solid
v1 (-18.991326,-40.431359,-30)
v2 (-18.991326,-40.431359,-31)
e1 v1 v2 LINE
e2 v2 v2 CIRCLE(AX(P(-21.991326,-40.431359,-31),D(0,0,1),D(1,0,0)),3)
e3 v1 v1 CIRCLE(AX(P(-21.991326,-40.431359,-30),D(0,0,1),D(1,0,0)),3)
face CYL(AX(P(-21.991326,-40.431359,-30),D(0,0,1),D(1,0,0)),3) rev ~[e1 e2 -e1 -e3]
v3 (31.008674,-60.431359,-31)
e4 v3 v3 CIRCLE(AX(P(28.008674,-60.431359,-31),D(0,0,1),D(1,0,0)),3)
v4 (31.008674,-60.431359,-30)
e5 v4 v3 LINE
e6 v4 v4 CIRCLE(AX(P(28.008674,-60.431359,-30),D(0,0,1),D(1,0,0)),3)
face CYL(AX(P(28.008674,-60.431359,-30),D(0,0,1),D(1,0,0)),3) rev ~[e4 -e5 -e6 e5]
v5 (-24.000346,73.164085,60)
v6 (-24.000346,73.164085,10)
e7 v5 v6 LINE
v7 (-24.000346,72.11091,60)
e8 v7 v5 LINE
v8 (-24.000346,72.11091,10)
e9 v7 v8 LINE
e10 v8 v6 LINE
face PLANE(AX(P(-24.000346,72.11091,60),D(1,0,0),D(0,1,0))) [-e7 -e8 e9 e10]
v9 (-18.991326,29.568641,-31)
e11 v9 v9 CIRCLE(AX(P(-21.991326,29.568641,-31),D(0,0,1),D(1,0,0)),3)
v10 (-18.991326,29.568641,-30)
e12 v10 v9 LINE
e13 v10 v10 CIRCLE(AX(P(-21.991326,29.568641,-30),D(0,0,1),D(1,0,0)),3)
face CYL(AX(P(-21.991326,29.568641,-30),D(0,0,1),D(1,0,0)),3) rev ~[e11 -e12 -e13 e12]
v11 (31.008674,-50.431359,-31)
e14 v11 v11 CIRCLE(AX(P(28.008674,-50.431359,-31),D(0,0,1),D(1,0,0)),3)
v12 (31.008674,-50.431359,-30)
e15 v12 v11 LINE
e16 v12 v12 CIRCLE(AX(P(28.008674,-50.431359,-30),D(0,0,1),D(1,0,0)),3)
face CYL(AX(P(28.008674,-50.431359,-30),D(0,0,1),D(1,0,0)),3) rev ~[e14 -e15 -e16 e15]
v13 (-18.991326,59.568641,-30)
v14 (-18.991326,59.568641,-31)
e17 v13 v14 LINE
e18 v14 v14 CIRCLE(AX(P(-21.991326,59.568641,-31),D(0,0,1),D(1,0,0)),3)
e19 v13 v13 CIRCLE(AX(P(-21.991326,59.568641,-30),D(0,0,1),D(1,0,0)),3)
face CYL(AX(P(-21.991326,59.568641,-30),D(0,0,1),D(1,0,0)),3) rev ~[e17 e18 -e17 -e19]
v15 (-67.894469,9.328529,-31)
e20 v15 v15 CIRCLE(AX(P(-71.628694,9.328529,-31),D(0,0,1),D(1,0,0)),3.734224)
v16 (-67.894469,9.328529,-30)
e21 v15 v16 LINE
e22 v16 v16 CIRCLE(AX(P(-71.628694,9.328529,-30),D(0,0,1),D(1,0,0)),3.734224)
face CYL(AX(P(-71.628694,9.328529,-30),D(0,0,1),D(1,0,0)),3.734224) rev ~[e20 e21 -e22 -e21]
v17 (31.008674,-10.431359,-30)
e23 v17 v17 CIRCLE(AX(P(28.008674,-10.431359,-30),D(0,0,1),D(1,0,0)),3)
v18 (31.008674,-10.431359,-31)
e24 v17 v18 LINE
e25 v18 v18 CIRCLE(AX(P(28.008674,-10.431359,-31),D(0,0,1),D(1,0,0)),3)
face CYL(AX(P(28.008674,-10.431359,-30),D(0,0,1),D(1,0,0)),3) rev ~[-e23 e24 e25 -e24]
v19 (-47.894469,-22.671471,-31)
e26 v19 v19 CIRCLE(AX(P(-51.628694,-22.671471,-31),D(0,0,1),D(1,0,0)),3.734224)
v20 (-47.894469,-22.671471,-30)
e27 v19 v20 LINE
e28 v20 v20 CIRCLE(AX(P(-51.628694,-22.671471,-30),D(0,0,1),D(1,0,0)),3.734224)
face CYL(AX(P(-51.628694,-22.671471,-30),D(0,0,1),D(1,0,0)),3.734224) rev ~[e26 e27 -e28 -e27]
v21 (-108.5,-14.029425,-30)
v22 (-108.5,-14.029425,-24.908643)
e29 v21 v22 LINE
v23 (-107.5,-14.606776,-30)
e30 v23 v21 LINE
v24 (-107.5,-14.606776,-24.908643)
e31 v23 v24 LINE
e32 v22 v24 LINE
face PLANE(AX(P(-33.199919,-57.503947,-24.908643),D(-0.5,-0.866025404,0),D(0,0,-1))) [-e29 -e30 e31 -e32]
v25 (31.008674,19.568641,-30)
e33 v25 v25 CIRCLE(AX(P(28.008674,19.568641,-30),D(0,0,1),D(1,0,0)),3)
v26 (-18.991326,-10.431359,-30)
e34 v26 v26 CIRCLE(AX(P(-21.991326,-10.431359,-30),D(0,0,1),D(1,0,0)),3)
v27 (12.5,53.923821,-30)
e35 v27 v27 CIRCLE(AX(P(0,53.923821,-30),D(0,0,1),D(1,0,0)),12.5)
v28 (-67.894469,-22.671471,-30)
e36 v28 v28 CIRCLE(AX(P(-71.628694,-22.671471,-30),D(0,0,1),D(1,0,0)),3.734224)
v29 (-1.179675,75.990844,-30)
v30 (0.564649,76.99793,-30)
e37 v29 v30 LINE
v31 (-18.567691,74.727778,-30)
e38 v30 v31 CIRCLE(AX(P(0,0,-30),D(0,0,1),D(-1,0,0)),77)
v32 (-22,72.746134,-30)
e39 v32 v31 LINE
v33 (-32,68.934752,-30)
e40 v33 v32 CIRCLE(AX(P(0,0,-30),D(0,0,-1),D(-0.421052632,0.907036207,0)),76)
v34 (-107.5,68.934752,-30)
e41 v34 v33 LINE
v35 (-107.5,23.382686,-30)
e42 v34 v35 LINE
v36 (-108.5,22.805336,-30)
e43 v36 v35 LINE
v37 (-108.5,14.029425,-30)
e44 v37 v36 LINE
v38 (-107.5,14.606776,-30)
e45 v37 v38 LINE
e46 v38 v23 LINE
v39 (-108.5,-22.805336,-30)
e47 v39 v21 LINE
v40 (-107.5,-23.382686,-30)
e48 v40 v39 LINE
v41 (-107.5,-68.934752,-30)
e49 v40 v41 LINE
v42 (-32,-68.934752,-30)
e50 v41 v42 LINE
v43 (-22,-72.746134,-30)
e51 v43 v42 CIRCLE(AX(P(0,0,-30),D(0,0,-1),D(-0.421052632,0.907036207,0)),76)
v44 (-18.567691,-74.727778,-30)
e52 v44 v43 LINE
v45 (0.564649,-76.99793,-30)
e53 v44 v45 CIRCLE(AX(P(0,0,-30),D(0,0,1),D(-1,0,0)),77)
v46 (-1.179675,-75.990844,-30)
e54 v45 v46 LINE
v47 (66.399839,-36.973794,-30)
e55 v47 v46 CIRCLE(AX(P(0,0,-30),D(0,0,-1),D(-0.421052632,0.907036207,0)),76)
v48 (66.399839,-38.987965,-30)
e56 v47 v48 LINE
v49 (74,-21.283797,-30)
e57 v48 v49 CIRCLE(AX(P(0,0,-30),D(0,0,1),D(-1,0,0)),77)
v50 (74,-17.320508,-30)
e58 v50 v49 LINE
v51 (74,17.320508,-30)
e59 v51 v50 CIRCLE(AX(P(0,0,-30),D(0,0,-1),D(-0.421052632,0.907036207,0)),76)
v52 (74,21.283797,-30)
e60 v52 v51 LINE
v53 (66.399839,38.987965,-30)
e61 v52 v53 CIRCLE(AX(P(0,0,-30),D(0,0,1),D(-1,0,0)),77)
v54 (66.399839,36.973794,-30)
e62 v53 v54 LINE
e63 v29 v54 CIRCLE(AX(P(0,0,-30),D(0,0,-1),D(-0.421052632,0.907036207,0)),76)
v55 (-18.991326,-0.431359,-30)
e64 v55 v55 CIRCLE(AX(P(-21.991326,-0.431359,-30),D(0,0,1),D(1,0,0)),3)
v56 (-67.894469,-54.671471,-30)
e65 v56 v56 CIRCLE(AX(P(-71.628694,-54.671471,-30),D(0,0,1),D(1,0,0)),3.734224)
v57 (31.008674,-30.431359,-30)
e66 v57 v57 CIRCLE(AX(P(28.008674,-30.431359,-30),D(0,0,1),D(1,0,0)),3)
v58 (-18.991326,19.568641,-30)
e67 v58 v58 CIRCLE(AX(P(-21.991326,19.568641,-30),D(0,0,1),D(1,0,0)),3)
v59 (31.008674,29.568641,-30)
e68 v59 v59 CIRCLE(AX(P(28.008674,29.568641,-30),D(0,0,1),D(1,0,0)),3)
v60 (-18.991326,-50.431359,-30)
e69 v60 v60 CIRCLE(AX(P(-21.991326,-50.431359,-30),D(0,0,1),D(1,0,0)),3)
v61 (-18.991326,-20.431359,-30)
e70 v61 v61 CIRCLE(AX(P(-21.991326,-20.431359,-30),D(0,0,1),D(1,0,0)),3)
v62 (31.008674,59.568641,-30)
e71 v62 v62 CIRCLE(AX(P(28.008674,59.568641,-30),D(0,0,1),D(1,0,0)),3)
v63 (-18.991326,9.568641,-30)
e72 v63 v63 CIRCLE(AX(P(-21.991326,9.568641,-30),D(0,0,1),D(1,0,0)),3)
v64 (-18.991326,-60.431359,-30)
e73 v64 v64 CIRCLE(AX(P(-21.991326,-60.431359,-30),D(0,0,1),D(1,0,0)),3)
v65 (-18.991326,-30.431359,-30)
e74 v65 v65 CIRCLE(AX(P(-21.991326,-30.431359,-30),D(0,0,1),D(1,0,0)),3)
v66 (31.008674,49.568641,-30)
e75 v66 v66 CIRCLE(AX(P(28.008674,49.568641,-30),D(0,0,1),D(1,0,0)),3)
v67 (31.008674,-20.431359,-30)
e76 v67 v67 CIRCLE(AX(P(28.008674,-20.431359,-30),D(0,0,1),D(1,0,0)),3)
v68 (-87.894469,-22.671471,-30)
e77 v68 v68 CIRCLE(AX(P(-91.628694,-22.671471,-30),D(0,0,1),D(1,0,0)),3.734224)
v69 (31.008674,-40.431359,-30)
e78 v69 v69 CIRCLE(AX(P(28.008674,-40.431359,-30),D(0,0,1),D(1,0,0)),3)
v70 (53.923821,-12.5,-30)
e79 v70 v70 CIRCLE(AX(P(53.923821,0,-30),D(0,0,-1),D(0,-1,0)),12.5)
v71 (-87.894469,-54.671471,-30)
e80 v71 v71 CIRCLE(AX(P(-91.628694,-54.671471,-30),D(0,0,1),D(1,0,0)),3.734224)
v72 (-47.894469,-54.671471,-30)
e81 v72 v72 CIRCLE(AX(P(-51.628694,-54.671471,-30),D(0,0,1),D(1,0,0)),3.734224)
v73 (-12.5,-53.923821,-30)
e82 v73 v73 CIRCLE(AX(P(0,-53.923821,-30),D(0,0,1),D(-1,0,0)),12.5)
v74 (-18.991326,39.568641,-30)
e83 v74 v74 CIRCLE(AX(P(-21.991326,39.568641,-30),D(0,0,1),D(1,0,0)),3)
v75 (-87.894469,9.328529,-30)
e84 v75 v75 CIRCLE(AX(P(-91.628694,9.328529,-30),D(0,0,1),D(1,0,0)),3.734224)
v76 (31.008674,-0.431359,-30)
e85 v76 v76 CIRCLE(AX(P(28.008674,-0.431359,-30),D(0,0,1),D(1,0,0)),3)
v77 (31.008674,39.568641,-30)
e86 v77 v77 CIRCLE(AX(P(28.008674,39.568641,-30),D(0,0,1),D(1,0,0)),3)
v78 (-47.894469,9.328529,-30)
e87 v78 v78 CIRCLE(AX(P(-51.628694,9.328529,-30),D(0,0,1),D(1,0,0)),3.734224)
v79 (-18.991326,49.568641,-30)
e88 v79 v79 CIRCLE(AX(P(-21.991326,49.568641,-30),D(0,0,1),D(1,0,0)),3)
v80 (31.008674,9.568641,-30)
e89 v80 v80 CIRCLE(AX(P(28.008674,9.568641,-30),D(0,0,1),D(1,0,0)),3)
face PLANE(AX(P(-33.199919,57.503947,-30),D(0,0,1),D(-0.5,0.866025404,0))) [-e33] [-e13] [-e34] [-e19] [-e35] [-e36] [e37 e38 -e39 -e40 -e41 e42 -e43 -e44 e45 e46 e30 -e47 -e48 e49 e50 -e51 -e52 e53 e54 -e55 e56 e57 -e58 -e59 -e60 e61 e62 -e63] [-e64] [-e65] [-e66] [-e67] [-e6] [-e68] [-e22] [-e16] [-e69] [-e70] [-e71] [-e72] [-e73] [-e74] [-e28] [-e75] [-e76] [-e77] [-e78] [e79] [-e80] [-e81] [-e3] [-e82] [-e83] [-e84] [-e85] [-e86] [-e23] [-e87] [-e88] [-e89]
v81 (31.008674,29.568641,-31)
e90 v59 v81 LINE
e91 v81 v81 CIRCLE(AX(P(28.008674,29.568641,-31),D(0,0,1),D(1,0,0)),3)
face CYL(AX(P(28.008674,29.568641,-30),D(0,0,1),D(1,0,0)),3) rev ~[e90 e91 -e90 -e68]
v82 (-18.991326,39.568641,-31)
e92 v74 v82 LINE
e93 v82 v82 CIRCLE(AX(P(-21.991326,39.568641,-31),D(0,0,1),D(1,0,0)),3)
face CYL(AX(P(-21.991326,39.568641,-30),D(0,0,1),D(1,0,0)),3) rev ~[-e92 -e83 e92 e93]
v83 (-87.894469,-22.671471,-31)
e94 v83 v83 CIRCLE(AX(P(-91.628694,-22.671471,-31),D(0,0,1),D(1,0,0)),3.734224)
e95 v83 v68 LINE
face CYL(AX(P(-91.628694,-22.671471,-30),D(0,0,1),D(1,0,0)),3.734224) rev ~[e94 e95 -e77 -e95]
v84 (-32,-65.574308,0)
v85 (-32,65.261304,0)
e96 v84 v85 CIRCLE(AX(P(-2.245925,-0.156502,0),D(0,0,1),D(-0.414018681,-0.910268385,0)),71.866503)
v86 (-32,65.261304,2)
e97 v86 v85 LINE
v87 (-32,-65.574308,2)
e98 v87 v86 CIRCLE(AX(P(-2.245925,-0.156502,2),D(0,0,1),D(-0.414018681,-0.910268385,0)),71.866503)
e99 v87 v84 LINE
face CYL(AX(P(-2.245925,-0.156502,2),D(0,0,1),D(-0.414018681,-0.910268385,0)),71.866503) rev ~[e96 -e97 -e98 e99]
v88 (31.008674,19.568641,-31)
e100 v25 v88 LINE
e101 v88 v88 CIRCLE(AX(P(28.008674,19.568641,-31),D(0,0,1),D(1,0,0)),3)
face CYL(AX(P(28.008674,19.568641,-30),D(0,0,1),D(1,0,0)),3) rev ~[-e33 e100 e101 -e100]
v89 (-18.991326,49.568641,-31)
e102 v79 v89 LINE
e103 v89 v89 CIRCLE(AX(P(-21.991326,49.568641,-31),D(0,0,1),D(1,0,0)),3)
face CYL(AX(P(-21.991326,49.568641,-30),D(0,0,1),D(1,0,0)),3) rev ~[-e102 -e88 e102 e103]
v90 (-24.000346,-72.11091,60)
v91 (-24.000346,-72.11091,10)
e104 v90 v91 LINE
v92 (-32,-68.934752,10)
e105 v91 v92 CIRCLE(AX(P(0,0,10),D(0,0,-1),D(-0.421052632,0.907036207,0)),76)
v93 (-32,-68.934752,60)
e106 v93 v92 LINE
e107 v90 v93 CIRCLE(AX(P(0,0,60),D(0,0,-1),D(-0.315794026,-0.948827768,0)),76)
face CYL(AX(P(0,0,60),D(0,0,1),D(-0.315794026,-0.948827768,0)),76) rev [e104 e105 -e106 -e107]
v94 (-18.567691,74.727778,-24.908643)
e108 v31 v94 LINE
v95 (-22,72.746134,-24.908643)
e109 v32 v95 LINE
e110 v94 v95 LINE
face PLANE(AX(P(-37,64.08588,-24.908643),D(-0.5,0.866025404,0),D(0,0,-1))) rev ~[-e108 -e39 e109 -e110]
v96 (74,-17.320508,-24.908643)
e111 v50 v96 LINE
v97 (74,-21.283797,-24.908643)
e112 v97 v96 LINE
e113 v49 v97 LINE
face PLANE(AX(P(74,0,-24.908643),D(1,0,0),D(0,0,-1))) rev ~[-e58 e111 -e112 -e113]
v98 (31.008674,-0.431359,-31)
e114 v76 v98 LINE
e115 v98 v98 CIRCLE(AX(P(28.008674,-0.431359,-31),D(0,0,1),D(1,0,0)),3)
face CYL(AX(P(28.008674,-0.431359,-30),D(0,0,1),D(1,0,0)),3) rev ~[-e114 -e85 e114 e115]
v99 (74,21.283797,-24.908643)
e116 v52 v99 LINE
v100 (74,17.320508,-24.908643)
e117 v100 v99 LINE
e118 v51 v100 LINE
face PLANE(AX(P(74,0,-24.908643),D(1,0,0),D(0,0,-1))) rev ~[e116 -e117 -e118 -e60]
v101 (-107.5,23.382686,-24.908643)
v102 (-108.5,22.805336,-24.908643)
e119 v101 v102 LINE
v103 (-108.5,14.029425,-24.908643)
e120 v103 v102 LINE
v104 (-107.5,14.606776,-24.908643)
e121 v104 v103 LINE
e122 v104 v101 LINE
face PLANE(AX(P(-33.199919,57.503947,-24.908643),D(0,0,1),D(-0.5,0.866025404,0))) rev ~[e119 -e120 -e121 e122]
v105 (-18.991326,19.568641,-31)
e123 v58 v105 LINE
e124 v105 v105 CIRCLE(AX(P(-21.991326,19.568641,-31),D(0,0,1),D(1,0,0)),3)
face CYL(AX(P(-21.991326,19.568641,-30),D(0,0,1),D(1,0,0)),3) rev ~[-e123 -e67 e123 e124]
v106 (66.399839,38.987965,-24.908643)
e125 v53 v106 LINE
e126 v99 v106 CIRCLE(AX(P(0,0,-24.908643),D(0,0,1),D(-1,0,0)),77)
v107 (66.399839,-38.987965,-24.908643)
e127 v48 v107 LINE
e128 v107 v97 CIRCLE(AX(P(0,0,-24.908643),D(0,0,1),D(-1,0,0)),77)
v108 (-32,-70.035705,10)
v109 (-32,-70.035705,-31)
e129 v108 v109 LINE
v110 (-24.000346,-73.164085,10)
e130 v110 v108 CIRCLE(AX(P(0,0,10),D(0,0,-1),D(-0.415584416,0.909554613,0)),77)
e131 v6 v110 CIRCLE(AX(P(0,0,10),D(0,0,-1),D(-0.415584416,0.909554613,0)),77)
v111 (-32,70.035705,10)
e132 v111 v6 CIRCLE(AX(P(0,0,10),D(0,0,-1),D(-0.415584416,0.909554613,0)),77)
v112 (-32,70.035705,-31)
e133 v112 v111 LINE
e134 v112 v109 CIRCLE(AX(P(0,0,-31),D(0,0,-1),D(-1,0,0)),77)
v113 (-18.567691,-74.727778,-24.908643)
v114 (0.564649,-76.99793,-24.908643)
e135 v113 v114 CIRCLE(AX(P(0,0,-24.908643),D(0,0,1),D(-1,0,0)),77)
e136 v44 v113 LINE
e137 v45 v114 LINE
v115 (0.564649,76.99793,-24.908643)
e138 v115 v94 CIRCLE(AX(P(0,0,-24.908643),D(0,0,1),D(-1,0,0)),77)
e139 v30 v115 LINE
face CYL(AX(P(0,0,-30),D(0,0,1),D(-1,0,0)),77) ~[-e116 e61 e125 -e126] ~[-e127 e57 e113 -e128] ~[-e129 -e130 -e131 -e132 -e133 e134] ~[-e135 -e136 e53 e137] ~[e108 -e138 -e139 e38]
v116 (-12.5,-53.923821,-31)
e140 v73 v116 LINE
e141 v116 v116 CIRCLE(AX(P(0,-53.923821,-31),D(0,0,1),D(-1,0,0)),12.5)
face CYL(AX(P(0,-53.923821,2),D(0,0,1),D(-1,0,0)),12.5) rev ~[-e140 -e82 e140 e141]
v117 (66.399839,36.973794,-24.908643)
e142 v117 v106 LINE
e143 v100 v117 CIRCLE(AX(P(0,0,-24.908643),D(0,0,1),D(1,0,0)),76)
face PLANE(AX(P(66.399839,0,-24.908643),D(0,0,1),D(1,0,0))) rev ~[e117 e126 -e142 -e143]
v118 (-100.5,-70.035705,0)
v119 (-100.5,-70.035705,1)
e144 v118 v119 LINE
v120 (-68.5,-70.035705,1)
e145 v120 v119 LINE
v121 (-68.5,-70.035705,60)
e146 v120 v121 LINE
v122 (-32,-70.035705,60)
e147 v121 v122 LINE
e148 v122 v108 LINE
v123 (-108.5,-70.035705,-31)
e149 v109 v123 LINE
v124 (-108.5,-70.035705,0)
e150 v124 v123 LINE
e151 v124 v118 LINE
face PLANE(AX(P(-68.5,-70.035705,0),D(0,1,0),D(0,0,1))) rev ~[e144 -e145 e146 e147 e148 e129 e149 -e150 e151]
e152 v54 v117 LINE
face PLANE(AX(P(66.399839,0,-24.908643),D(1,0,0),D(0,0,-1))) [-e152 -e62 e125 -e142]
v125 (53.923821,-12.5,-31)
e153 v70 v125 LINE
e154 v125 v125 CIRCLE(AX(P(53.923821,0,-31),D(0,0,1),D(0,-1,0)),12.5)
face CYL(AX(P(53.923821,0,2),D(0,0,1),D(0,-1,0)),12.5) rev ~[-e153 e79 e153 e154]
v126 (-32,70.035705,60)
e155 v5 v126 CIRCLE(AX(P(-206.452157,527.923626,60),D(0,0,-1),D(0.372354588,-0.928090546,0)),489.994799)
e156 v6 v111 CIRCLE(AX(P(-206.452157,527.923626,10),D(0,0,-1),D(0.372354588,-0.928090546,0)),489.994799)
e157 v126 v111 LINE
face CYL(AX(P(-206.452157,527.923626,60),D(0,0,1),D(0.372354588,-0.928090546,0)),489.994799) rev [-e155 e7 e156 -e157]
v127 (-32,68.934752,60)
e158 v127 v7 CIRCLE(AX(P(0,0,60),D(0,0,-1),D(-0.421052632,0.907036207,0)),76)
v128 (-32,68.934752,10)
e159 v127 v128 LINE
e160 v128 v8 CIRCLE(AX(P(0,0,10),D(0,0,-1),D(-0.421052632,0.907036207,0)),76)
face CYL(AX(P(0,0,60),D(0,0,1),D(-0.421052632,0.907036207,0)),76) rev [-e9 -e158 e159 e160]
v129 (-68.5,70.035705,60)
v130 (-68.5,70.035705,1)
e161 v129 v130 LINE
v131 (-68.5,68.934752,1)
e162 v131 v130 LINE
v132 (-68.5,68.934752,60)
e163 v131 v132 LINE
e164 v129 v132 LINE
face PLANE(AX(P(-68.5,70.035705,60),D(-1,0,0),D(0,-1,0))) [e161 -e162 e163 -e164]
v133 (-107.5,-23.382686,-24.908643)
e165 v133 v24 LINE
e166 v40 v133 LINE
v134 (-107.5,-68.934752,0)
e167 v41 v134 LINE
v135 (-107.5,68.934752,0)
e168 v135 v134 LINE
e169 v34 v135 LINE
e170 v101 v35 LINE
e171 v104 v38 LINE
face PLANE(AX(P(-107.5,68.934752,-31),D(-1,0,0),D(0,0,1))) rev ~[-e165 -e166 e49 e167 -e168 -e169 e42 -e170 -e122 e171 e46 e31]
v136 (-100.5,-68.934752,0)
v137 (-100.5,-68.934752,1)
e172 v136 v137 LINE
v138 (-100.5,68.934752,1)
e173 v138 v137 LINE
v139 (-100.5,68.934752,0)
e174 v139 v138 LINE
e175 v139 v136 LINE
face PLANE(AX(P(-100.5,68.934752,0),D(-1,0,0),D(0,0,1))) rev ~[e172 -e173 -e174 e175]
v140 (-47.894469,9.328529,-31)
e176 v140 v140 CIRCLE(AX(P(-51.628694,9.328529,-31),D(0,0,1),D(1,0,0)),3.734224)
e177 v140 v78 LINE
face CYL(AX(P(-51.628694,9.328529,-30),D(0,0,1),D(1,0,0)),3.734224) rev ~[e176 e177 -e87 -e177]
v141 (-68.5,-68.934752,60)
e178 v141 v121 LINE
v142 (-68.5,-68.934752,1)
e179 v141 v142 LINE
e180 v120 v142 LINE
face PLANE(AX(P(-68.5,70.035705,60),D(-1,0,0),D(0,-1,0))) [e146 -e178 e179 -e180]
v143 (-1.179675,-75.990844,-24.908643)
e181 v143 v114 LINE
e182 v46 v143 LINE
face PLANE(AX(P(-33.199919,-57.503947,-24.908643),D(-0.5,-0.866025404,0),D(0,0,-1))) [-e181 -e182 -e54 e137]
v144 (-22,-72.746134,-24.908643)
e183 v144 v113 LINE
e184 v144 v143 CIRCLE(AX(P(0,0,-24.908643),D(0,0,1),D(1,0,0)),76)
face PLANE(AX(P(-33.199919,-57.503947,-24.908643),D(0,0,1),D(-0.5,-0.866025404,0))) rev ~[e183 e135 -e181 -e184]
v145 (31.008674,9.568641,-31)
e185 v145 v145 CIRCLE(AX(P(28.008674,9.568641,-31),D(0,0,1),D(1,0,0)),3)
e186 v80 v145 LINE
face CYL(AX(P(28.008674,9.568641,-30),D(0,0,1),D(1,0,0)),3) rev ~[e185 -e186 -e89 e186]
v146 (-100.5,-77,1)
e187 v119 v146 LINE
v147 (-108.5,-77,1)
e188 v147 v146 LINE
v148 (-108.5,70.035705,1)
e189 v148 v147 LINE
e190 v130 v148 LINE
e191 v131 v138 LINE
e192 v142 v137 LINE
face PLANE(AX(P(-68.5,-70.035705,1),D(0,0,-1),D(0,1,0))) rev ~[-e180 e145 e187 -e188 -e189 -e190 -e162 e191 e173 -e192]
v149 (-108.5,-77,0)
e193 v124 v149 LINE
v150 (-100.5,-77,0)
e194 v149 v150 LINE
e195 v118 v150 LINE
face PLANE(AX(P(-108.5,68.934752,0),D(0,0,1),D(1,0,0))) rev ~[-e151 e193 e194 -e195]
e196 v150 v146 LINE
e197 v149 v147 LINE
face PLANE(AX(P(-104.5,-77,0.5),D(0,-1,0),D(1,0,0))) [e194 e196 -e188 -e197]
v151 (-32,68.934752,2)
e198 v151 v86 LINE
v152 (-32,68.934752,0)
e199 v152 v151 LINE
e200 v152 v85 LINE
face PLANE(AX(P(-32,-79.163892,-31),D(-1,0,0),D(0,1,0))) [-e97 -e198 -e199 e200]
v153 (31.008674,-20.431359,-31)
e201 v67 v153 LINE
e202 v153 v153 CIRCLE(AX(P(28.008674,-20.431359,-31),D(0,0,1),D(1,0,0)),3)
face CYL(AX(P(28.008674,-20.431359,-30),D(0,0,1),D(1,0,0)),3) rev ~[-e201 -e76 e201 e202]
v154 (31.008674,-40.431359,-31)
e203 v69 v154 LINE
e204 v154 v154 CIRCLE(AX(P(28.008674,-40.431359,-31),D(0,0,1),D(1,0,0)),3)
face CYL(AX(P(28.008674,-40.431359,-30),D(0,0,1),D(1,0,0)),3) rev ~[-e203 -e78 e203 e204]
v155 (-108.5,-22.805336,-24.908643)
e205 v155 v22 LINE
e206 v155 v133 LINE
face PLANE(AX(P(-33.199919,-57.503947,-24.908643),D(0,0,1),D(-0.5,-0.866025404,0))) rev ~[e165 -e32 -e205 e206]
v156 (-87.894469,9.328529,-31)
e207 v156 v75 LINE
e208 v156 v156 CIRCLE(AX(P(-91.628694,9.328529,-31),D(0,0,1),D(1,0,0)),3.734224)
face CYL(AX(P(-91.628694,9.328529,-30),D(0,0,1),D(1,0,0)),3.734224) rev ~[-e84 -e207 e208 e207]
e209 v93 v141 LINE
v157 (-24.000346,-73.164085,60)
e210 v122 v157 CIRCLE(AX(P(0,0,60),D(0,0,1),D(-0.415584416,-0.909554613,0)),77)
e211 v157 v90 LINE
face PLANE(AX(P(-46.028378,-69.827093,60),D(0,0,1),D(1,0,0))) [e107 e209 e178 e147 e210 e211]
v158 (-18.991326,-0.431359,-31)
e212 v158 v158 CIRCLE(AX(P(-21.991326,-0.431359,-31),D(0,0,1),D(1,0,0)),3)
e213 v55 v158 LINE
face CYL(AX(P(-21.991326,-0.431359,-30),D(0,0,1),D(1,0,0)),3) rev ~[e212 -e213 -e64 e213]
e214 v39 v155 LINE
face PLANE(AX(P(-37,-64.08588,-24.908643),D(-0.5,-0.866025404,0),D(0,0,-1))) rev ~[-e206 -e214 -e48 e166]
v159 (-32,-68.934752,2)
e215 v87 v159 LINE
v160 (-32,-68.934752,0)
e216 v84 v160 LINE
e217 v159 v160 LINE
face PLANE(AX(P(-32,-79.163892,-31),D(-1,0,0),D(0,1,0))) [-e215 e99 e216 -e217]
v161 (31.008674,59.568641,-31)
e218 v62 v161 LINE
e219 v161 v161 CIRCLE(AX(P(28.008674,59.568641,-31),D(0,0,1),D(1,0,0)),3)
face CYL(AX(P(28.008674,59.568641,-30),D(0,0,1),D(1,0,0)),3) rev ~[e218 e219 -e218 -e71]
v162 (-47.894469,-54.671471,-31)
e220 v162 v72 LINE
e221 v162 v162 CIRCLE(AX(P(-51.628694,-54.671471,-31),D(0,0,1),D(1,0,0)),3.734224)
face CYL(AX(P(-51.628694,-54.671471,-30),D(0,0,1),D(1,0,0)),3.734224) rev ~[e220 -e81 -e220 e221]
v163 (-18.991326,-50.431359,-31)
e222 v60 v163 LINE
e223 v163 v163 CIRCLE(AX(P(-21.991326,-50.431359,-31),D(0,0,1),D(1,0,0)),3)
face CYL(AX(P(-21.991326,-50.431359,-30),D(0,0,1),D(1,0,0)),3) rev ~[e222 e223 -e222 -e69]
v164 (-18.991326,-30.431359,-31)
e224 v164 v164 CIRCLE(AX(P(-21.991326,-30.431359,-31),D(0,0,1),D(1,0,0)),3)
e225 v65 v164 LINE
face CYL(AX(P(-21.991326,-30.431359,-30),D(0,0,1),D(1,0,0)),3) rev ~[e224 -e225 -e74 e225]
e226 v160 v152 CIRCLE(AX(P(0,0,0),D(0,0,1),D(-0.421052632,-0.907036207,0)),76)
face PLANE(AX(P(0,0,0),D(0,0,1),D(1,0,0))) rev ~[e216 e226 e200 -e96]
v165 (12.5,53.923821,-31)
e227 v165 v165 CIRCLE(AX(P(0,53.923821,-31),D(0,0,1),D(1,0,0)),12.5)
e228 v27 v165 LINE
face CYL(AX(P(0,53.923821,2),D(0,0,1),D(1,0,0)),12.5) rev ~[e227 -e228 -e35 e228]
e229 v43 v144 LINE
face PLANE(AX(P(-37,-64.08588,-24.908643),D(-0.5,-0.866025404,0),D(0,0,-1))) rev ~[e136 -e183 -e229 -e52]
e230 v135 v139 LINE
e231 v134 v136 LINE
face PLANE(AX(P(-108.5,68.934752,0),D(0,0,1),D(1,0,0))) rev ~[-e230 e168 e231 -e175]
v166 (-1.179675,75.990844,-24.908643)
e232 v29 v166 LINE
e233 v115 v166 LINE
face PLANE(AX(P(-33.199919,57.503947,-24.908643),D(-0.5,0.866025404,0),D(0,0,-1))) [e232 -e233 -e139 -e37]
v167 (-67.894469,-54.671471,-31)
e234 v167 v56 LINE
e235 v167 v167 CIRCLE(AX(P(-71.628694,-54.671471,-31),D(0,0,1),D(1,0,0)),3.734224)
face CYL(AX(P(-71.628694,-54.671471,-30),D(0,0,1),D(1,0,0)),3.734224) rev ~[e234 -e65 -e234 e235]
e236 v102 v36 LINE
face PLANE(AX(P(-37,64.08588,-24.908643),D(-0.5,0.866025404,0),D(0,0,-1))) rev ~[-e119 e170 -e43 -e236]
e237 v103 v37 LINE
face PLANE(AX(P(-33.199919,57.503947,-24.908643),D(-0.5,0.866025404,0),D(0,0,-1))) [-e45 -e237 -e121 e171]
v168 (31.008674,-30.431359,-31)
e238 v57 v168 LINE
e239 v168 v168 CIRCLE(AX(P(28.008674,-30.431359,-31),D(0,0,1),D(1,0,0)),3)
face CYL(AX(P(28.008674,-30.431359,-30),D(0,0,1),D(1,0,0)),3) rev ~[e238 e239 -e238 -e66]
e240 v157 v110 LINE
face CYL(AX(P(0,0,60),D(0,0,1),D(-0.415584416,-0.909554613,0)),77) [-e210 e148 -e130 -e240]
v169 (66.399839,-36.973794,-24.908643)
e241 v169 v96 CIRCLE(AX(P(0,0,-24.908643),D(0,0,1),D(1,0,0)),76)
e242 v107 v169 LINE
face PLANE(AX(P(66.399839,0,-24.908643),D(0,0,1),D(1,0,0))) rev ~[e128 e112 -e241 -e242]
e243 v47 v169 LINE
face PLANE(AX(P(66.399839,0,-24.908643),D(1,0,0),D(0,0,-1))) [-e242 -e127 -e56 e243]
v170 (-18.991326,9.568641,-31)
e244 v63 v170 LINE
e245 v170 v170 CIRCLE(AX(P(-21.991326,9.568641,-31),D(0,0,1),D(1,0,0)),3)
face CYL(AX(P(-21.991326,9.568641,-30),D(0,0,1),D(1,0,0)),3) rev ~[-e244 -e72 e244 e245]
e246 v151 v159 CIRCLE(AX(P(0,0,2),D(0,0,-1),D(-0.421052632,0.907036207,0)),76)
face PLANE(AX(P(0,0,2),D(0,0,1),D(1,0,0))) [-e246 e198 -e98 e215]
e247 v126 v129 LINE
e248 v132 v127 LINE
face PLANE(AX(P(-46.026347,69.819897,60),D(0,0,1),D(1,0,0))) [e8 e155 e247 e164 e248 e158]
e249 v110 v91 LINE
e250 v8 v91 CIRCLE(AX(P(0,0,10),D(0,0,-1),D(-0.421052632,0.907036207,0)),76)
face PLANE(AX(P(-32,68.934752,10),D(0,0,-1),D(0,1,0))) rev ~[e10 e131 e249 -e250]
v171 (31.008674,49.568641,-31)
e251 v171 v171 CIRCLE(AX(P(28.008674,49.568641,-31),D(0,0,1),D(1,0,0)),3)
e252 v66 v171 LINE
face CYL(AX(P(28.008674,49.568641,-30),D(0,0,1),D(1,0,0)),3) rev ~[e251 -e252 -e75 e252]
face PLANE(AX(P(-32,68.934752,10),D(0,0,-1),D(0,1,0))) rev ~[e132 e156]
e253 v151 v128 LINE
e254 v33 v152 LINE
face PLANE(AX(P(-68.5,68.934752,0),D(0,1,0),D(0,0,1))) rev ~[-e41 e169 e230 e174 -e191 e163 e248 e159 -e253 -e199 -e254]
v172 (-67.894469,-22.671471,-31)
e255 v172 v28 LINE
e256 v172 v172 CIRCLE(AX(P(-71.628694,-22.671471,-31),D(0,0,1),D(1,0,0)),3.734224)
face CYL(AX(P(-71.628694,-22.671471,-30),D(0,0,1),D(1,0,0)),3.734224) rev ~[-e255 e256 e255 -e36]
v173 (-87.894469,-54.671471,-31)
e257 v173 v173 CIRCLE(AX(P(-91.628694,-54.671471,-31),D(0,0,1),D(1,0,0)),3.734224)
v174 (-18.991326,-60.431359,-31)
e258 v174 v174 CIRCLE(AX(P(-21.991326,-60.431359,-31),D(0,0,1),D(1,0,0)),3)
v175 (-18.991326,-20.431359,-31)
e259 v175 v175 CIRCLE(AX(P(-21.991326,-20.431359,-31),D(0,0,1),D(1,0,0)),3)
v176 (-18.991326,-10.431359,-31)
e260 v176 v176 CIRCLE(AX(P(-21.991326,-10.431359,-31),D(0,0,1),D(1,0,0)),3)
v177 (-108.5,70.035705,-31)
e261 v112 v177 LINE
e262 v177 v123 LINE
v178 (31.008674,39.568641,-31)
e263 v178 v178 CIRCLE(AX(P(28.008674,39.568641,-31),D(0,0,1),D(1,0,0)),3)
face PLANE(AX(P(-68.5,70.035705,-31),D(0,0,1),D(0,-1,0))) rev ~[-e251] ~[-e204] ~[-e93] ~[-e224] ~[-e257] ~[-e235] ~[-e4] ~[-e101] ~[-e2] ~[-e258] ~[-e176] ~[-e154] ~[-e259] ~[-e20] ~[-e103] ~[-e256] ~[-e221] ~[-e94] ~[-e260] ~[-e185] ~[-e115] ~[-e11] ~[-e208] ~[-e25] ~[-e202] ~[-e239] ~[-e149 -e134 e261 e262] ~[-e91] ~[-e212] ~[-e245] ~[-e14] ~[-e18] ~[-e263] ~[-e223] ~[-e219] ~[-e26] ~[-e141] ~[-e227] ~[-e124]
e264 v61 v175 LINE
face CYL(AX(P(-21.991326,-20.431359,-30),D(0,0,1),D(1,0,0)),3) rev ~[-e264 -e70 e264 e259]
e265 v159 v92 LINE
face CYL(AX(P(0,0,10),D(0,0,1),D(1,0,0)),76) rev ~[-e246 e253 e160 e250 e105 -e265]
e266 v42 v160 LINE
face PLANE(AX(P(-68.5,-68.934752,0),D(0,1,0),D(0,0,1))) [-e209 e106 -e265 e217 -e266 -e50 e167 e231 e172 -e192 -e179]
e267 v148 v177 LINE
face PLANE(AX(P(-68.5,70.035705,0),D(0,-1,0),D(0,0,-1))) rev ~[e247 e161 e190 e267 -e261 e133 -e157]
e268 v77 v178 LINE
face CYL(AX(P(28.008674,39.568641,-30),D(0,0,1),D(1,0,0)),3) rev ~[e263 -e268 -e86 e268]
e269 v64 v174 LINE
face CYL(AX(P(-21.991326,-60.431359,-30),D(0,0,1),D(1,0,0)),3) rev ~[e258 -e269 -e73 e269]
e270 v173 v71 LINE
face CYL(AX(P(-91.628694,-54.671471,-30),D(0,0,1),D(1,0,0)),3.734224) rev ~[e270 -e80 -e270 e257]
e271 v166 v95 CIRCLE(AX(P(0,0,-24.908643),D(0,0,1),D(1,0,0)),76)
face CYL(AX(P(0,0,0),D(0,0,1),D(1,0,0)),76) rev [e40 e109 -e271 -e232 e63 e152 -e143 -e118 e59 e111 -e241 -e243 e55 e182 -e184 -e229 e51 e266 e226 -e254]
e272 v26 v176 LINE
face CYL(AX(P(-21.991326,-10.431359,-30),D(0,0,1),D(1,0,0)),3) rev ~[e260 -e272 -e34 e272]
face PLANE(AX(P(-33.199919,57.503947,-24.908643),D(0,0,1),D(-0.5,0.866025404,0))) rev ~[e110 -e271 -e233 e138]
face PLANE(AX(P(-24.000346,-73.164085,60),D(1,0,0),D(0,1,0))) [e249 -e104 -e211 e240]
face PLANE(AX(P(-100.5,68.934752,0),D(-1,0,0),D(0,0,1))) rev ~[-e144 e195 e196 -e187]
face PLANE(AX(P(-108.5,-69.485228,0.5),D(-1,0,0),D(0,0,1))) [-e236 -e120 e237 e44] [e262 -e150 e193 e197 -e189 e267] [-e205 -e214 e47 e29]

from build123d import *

# Parameters (mm, degrees)
SKETCH1_R                  = 77
BOSS_EXTRUDE1_DEPTH        = 10
SKETCH2_R                  = 76
CUT_EXTRUDE1_DEPTH         = 8
SKETCH3_R                  = 77
SKETCH3_R_2                = 76
BOSS_EXTRUDE2_DEPTH        = 30
SKETCH4_R                  = 77
BOSS_EXTRUDE3_DEPTH        = 1
SKETCH5_W                  = 45
SKETCH5_H                  = 163.805350841
CUT_EXTRUDE3_DEPTH         = 117.357208629
BOSS_EXTRUDE4_DEPTH        = 36.5
SKETCH9_R                  = 12.5
CUT_EXTRUDE4_DEPTH         = 114.784884761
CIRPATTERN1_COUNT          = 3
CIRPATTERN1_ANGLE          = 180
BOSS_EXTRUDE5_START        = 50
BOSS_EXTRUDE5_DEPTH        = 50
BOSS_EXTRUDE6_DEPTH        = 40
BOSS_EXTRUDE8_REACH        = 193.492
SKETCH12_W                 = 1
SKETCH12_H                 = 31
CUT_EXTRUDE6_REACH         = 147.139
SKETCH13_R                 = 27.198384407
CUT_EXTRUDE7_REACH         = 162.628
SKETCH14_R                 = 3
LPATTERN1_COUNT            = 13
LPATTERN1_PITCH            = 10
LPATTERN5_COUNT            = 2
LPATTERN5_PITCH            = 50
LPATTERN5_COPY_1_REACH     = 162.628
LPATTERN5_COPY_1_SKETCH_R  = 3
LPATTERN5_COPY_2_REACH     = 162.628
LPATTERN5_COPY_2_SKETCH_R  = 3
LPATTERN5_COPY_3_REACH     = 162.628
LPATTERN5_COPY_3_SKETCH_R  = 3
LPATTERN5_COPY_4_REACH     = 162.628
LPATTERN5_COPY_4_SKETCH_R  = 3
LPATTERN5_COPY_5_REACH     = 162.628
LPATTERN5_COPY_5_SKETCH_R  = 3
LPATTERN5_COPY_6_REACH     = 162.628
LPATTERN5_COPY_6_SKETCH_R  = 3
LPATTERN5_COPY_7_REACH     = 162.628
LPATTERN5_COPY_7_SKETCH_R  = 3
LPATTERN5_COPY_8_REACH     = 162.628
LPATTERN5_COPY_8_SKETCH_R  = 3
LPATTERN5_COPY_9_REACH     = 162.628
LPATTERN5_COPY_9_SKETCH_R  = 3
LPATTERN5_COPY_10_REACH    = 162.628
LPATTERN5_COPY_10_SKETCH_R = 3
LPATTERN5_COPY_11_REACH    = 162.628
LPATTERN5_COPY_11_SKETCH_R = 3
LPATTERN5_COPY_12_REACH    = 162.628
LPATTERN5_COPY_12_SKETCH_R = 3
SKETCH15_W                 = 1
SKETCH15_H                 = 1.100953422
BOSS_EXTRUDE9_DEPTH        = 40
CUT_EXTRUDE8_DEPTH         = 10
SKETCH17_W                 = 7.6001612
SKETCH17_H                 = 5.091357209
CUT_EXTRUDE9_DEPTH         = 146.94947756
CIRPATTERN2_COUNT          = 3
SKETCH19_W                 = 8
SKETCH19_H                 = 1
BOSS_EXTRUDE10_DEPTH       = 145.934752
SKETCH20_R                 = 3.734224409
CUT_EXTRUDE10_DEPTH        = 161.627675191
LPATTERN6_COUNT            = 3
LPATTERN6_PITCH            = 20
LPATTERN7_COUNT            = 3
LPATTERN7_PITCH            = 32
LPATTERN7_COPY_1_SKETCH_R  = 3.734224409
LPATTERN7_COPY_1_DEPTH     = 161.627675191
LPATTERN7_COPY_2_SKETCH_R  = 3.734224409
LPATTERN7_COPY_2_DEPTH     = 161.627675191
LPATTERN7_COPY_3_SKETCH_R  = 3.734224409
LPATTERN7_COPY_3_DEPTH     = 161.627675191
LPATTERN7_COPY_4_SKETCH_R  = 3.734224409
LPATTERN7_COPY_4_DEPTH     = 161.627675191


with BuildPart() as part:
    # Sketch1 → Boss-Extrude1 (new body)
    with BuildSketch(Plane.XY):
        Circle(SKETCH1_R)
    extrude(amount=BOSS_EXTRUDE1_DEPTH)

    # Sketch2 → Cut-Extrude1 (cut)
    with BuildSketch(Plane.XY.offset(10)):
        Circle(SKETCH2_R)
    extrude(amount=-CUT_EXTRUDE1_DEPTH, mode=Mode.SUBTRACT)

    # Sketch3 → Boss-Extrude2 (add)
    with BuildSketch(Plane(origin=(0, 0, 0), x_dir=(-1, 0, 0), z_dir=(0, 0, -1))):
        Circle(SKETCH3_R)
        with Locations(Location((0, 0, 0), (0, 0, 180))):
            Circle(SKETCH3_R_2, mode=Mode.SUBTRACT)
    extrude(amount=BOSS_EXTRUDE2_DEPTH)

    # Sketch4 → Boss-Extrude3 (add)
    with BuildSketch(Plane(origin=(0, 0, -30), x_dir=(-1, 0, 0), z_dir=(0, 0, -1))):
        Circle(SKETCH4_R)
    extrude(amount=BOSS_EXTRUDE3_DEPTH)

    # Sketch5 → Cut-Extrude3 (cut, through all)
    with BuildSketch(Plane(origin=(0, 0, -31), x_dir=(-1, 0, 0), z_dir=(0, 0, -1))):
        with Locations((54.5, 2.738783732)):
            Rectangle(SKETCH5_W, SKETCH5_H)
    extrude(amount=-CUT_EXTRUDE3_DEPTH, mode=Mode.SUBTRACT)

    # Sketch8 → Boss-Extrude4 (add)
    with BuildSketch(Plane.ZY.offset(32)):
        Polygon((2, 70.03570518), (-31, 70.03570518), (-31, -70.03570518), (2, -70.03570518), (10, -70.03570518), (10, -68.934751758), (2, -68.934751758), (-30, -68.934751758), (-30, 68.934751758), (2, 68.934751758), (10, 68.934751758), (10, 70.03570518), align=None)
    extrude(amount=BOSS_EXTRUDE4_DEPTH)

    # Sketch9 → Cut-Extrude4 (cut, through all)
    with BuildSketch(Plane.XY.offset(2)):
        with Locations((0, 53.923821134)):
            Circle(SKETCH9_R)
    cut_extrude4 = extrude(amount=-CUT_EXTRUDE4_DEPTH, mode=Mode.SUBTRACT)

    # CirPattern1: Cut-Extrude4 ×3 about axis
    cirpattern1_axis = Axis((0, 0, 0), (0, 0, -1))
    for i in range(1, CIRPATTERN1_COUNT):
        add(cut_extrude4.rotate(cirpattern1_axis, i * CIRPATTERN1_ANGLE / (CIRPATTERN1_COUNT - 1)), mode=Mode.SUBTRACT)

    # Sketch10 → Boss-Extrude5 (add)
    with BuildSketch(Plane.XY.offset(10).offset(BOSS_EXTRUDE5_START)):
        with BuildLine():
            Line((-68.5, 70.03570518), (-68.5, 68.934751758))
            Line((-68.5, 68.934751758), (-32, 68.934751758))
            ThreePointArc((-32, 68.934751758), (-28.045172196, 70.636168614), (-24.000345987, 72.110910357))
            Line((-24.000345987, 72.110910357), (-24.000345987, 73.164085401))
            ThreePointArc((-24.000345987, 73.164085401), (-27.993317806, 71.58236573), (-32, 70.03570518))
            Line((-32, 70.03570518), (-68.5, 70.03570518))
        make_face()
        with BuildLine():
            Line((-68.5, -68.934751758), (-68.5, -70.03570518))
            Line((-68.5, -70.03570518), (-32, -70.03570518))
            ThreePointArc((-32, -70.03570518), (-28.043829595, -71.711530605), (-24.000345987, -73.164085401))
            Line((-24.000345987, -73.164085401), (-24.000345987, -72.110910357))
            ThreePointArc((-24.000345987, -72.110910357), (-28.045172196, -70.636168614), (-32, -68.934751758))
            Line((-32, -68.934751758), (-68.5, -68.934751758))
        make_face()
    extrude(amount=-BOSS_EXTRUDE5_DEPTH)

    # Sketch11 → Boss-Extrude6 (add)
    with BuildSketch(Plane.ZY.offset(68.5)):
        Polygon((0, 68.934751758), (0, 70.03570518), (-31, 70.03570518), (-31, -70.03570518), (0, -70.03570518), (0, -68.934751758), (-30, -68.934751758), (-30, 68.934751758), align=None)
    extrude(amount=BOSS_EXTRUDE6_DEPTH)

    # Sketch12 → Boss-Extrude8 (add, up to next)
    with BuildSketch(Plane.XZ.offset(-68.934751758), mode=Mode.PRIVATE) as boss_extrude8_sk1:
        with Locations((-108, -15.5)):
            Rectangle(SKETCH12_W, SKETCH12_H)
    boss_extrude8_tool1 = extrude(boss_extrude8_sk1.sketch, amount=BOSS_EXTRUDE8_REACH, mode=Mode.PRIVATE) - part.part
    add(boss_extrude8_tool1.solids().sort_by_distance((-108, 68.934752, -15.5))[0])

    # Sketch13 → Cut-Extrude6 (cut, up to next)
    with BuildSketch(Plane.XY.offset(2), mode=Mode.PRIVATE) as cut_extrude6_sk1:
        Circle(SKETCH13_R)
    cut_extrude6_tool1 = extrude(cut_extrude6_sk1.sketch, amount=-CUT_EXTRUDE6_REACH, mode=Mode.PRIVATE) & part.part
    add(cut_extrude6_tool1.solids().sort_by_distance((0, 0, 2))[0], mode=Mode.SUBTRACT)

    # Sketch14 → Cut-Extrude7 (cut, up to next)
    with BuildSketch(Plane.XY.offset(-30), mode=Mode.PRIVATE) as cut_extrude7_sk1:
        with Locations((-21.991326119, 59.568640729)):
            Circle(SKETCH14_R)
    cut_extrude7_tool1 = extrude(cut_extrude7_sk1.sketch, amount=-CUT_EXTRUDE7_REACH, mode=Mode.PRIVATE) & part.part
    cut_extrude7 = cut_extrude7_tool1.solids().sort_by_distance((-21.991326, 59.568641, -30))[0]
    add(cut_extrude7, mode=Mode.SUBTRACT)

    # LPattern1: Cut-Extrude7 ×13
    with Locations(*[(0, -i * LPATTERN1_PITCH, 0) for i in range(1, LPATTERN1_COUNT)]):
        add(cut_extrude7, mode=Mode.SUBTRACT)

    # LPattern5: Cut-Extrude7 ×2
    with Locations(*[(i * LPATTERN5_PITCH, 0, 0) for i in range(1, LPATTERN5_COUNT)]):
        add(cut_extrude7, mode=Mode.SUBTRACT)

    # LPattern5 copy 1 sketch → LPattern5 copy 1 (cut, up to next)
    with BuildSketch(Plane(origin=(50, -10, -30), x_dir=(1, 0, 0), z_dir=(0, 0, 1)), mode=Mode.PRIVATE) as lpattern5_copy_1_sk1:
        with Locations((-21.991326119, 59.568640729)):
            Circle(LPATTERN5_COPY_1_SKETCH_R)
    lpattern5_copy_1_tool1 = extrude(lpattern5_copy_1_sk1.sketch, amount=-LPATTERN5_COPY_1_REACH, mode=Mode.PRIVATE) & part.part
    add(lpattern5_copy_1_tool1.solids().sort_by_distance((28.008674, 49.568641, -30))[0], mode=Mode.SUBTRACT)

    # LPattern5 copy 2 sketch → LPattern5 copy 2 (cut, up to next)
    with BuildSketch(Plane(origin=(50, -20, -30), x_dir=(1, 0, 0), z_dir=(0, 0, 1)), mode=Mode.PRIVATE) as lpattern5_copy_2_sk1:
        with Locations((-21.991326119, 59.568640729)):
            Circle(LPATTERN5_COPY_2_SKETCH_R)
    lpattern5_copy_2_tool1 = extrude(lpattern5_copy_2_sk1.sketch, amount=-LPATTERN5_COPY_2_REACH, mode=Mode.PRIVATE) & part.part
    add(lpattern5_copy_2_tool1.solids().sort_by_distance((28.008674, 39.568641, -30))[0], mode=Mode.SUBTRACT)

    # LPattern5 copy 3 sketch → LPattern5 copy 3 (cut, up to next)
    with BuildSketch(Plane(origin=(50, -30, -30), x_dir=(1, 0, 0), z_dir=(0, 0, 1)), mode=Mode.PRIVATE) as lpattern5_copy_3_sk1:
        with Locations((-21.991326119, 59.568640729)):
            Circle(LPATTERN5_COPY_3_SKETCH_R)
    lpattern5_copy_3_tool1 = extrude(lpattern5_copy_3_sk1.sketch, amount=-LPATTERN5_COPY_3_REACH, mode=Mode.PRIVATE) & part.part
    add(lpattern5_copy_3_tool1.solids().sort_by_distance((28.008674, 29.568641, -30))[0], mode=Mode.SUBTRACT)

    # LPattern5 copy 4 sketch → LPattern5 copy 4 (cut, up to next)
    with BuildSketch(Plane(origin=(50, -40, -30), x_dir=(1, 0, 0), z_dir=(0, 0, 1)), mode=Mode.PRIVATE) as lpattern5_copy_4_sk1:
        with Locations((-21.991326119, 59.568640729)):
            Circle(LPATTERN5_COPY_4_SKETCH_R)
    lpattern5_copy_4_tool1 = extrude(lpattern5_copy_4_sk1.sketch, amount=-LPATTERN5_COPY_4_REACH, mode=Mode.PRIVATE) & part.part
    add(lpattern5_copy_4_tool1.solids().sort_by_distance((28.008674, 19.568641, -30))[0], mode=Mode.SUBTRACT)

    # LPattern5 copy 5 sketch → LPattern5 copy 5 (cut, up to next)
    with BuildSketch(Plane(origin=(50, -50, -30), x_dir=(1, 0, 0), z_dir=(0, 0, 1)), mode=Mode.PRIVATE) as lpattern5_copy_5_sk1:
        with Locations((-21.991326119, 59.568640729)):
            Circle(LPATTERN5_COPY_5_SKETCH_R)
    lpattern5_copy_5_tool1 = extrude(lpattern5_copy_5_sk1.sketch, amount=-LPATTERN5_COPY_5_REACH, mode=Mode.PRIVATE) & part.part
    add(lpattern5_copy_5_tool1.solids().sort_by_distance((28.008674, 9.568641, -30))[0], mode=Mode.SUBTRACT)

    # LPattern5 copy 6 sketch → LPattern5 copy 6 (cut, up to next)
    with BuildSketch(Plane(origin=(50, -60, -30), x_dir=(1, 0, 0), z_dir=(0, 0, 1)), mode=Mode.PRIVATE) as lpattern5_copy_6_sk1:
        with Locations((-21.991326119, 59.568640729)):
            Circle(LPATTERN5_COPY_6_SKETCH_R)
    lpattern5_copy_6_tool1 = extrude(lpattern5_copy_6_sk1.sketch, amount=-LPATTERN5_COPY_6_REACH, mode=Mode.PRIVATE) & part.part
    add(lpattern5_copy_6_tool1.solids().sort_by_distance((28.008674, -0.431359, -30))[0], mode=Mode.SUBTRACT)

    # LPattern5 copy 7 sketch → LPattern5 copy 7 (cut, up to next)
    with BuildSketch(Plane(origin=(50, -70, -30), x_dir=(1, 0, 0), z_dir=(0, 0, 1)), mode=Mode.PRIVATE) as lpattern5_copy_7_sk1:
        with Locations((-21.991326119, 59.568640729)):
            Circle(LPATTERN5_COPY_7_SKETCH_R)
    lpattern5_copy_7_tool1 = extrude(lpattern5_copy_7_sk1.sketch, amount=-LPATTERN5_COPY_7_REACH, mode=Mode.PRIVATE) & part.part
    add(lpattern5_copy_7_tool1.solids().sort_by_distance((28.008674, -10.431359, -30))[0], mode=Mode.SUBTRACT)

    # LPattern5 copy 8 sketch → LPattern5 copy 8 (cut, up to next)
    with BuildSketch(Plane(origin=(50, -80, -30), x_dir=(1, 0, 0), z_dir=(0, 0, 1)), mode=Mode.PRIVATE) as lpattern5_copy_8_sk1:
        with Locations((-21.991326119, 59.568640729)):
            Circle(LPATTERN5_COPY_8_SKETCH_R)
    lpattern5_copy_8_tool1 = extrude(lpattern5_copy_8_sk1.sketch, amount=-LPATTERN5_COPY_8_REACH, mode=Mode.PRIVATE) & part.part
    add(lpattern5_copy_8_tool1.solids().sort_by_distance((28.008674, -20.431359, -30))[0], mode=Mode.SUBTRACT)

    # LPattern5 copy 9 sketch → LPattern5 copy 9 (cut, up to next)
    with BuildSketch(Plane(origin=(50, -90, -30), x_dir=(1, 0, 0), z_dir=(0, 0, 1)), mode=Mode.PRIVATE) as lpattern5_copy_9_sk1:
        with Locations((-21.991326119, 59.568640729)):
            Circle(LPATTERN5_COPY_9_SKETCH_R)
    lpattern5_copy_9_tool1 = extrude(lpattern5_copy_9_sk1.sketch, amount=-LPATTERN5_COPY_9_REACH, mode=Mode.PRIVATE) & part.part
    add(lpattern5_copy_9_tool1.solids().sort_by_distance((28.008674, -30.431359, -30))[0], mode=Mode.SUBTRACT)

    # LPattern5 copy 10 sketch → LPattern5 copy 10 (cut, up to next)
    with BuildSketch(Plane(origin=(50, -100, -30), x_dir=(1, 0, 0), z_dir=(0, 0, 1)), mode=Mode.PRIVATE) as lpattern5_copy_10_sk1:
        with Locations((-21.991326119, 59.568640729)):
            Circle(LPATTERN5_COPY_10_SKETCH_R)
    lpattern5_copy_10_tool1 = extrude(lpattern5_copy_10_sk1.sketch, amount=-LPATTERN5_COPY_10_REACH, mode=Mode.PRIVATE) & part.part
    add(lpattern5_copy_10_tool1.solids().sort_by_distance((28.008674, -40.431359, -30))[0], mode=Mode.SUBTRACT)

    # LPattern5 copy 11 sketch → LPattern5 copy 11 (cut, up to next)
    with BuildSketch(Plane(origin=(50, -110, -30), x_dir=(1, 0, 0), z_dir=(0, 0, 1)), mode=Mode.PRIVATE) as lpattern5_copy_11_sk1:
        with Locations((-21.991326119, 59.568640729)):
            Circle(LPATTERN5_COPY_11_SKETCH_R)
    lpattern5_copy_11_tool1 = extrude(lpattern5_copy_11_sk1.sketch, amount=-LPATTERN5_COPY_11_REACH, mode=Mode.PRIVATE) & part.part
    add(lpattern5_copy_11_tool1.solids().sort_by_distance((28.008674, -50.431359, -30))[0], mode=Mode.SUBTRACT)

    # LPattern5 copy 12 sketch → LPattern5 copy 12 (cut, up to next)
    with BuildSketch(Plane(origin=(50, -120, -30), x_dir=(1, 0, 0), z_dir=(0, 0, 1)), mode=Mode.PRIVATE) as lpattern5_copy_12_sk1:
        with Locations((-21.991326119, 59.568640729)):
            Circle(LPATTERN5_COPY_12_SKETCH_R)
    lpattern5_copy_12_tool1 = extrude(lpattern5_copy_12_sk1.sketch, amount=-LPATTERN5_COPY_12_REACH, mode=Mode.PRIVATE) & part.part
    add(lpattern5_copy_12_tool1.solids().sort_by_distance((28.008674, -60.431359, -30))[0], mode=Mode.SUBTRACT)

    # Sketch15 → Boss-Extrude9 (add)
    with BuildSketch(Plane.ZY.offset(68.5)):
        with Locations((0.5, -69.485228469)):
            Rectangle(SKETCH15_W, SKETCH15_H)
        with Locations((0.5, 69.485228469)):
            Rectangle(SKETCH15_W, SKETCH15_H)
    extrude(amount=BOSS_EXTRUDE9_DEPTH)

    # Sketch16 → Cut-Extrude8 (cut)
    with BuildSketch(Plane.XY.offset(2)):
        with BuildLine():
            Line((-32, 65.26130379), (-32, -65.574307646))
            ThreePointArc((-32, -65.574307646), (69.620577929, -0.156501928), (-32, 65.26130379))
        make_face()
    extrude(amount=-CUT_EXTRUDE8_DEPTH, mode=Mode.SUBTRACT)

    # Sketch17 → Cut-Extrude9 (cut, symmetric)
    with BuildSketch(Plane(origin=(0, 0, 0), x_dir=(1, 0, 0), z_dir=(0, 1, 0))):
        with Locations((70.1999194, 27.454321396)):
            Rectangle(SKETCH17_W, SKETCH17_H)
    cut_extrude9 = extrude(amount=CUT_EXTRUDE9_DEPTH, both=True, mode=Mode.SUBTRACT)

    # CirPattern2: Cut-Extrude9 ×3 about axis
    cirpattern2_axis = Axis((0, 0, 0), (0, 0, 1))
    for i in range(1, CIRPATTERN2_COUNT):
        add(cut_extrude9.rotate(cirpattern2_axis, i * 360 / CIRPATTERN2_COUNT), mode=Mode.SUBTRACT)

    # Sketch19 → Boss-Extrude10 (add)
    with BuildSketch(Plane.XZ.offset(-68.934751758)):
        with Locations((-104.5, 0.5)):
            Rectangle(SKETCH19_W, SKETCH19_H)
    extrude(amount=BOSS_EXTRUDE10_DEPTH)

    # Sketch20 → Cut-Extrude10 (cut, symmetric)
    with BuildSketch(Plane.XY.offset(-30)):
        with Locations((-91.628693582, 9.328529247)):
            Circle(SKETCH20_R)
    cut_extrude10 = extrude(amount=CUT_EXTRUDE10_DEPTH, both=True, mode=Mode.SUBTRACT)

    # LPattern6: Cut-Extrude10 ×3
    with Locations(*[(i * LPATTERN6_PITCH, 0, 0) for i in range(1, LPATTERN6_COUNT)]):
        add(cut_extrude10, mode=Mode.SUBTRACT)

    # LPattern7: Cut-Extrude10 ×3
    with Locations(*[(0, -i * LPATTERN7_PITCH, 0) for i in range(1, LPATTERN7_COUNT)]):
        add(cut_extrude10, mode=Mode.SUBTRACT)

    # LPattern7 copy 1 sketch → LPattern7 copy 1 (cut, symmetric)
    with BuildSketch(Plane(origin=(20, -32, -30), x_dir=(1, 0, 0), z_dir=(0, 0, 1))):
        with Locations((-91.628693582, 9.328529247)):
            Circle(LPATTERN7_COPY_1_SKETCH_R)
    extrude(amount=LPATTERN7_COPY_1_DEPTH, both=True, mode=Mode.SUBTRACT)

    # LPattern7 copy 2 sketch → LPattern7 copy 2 (cut, symmetric)
    with BuildSketch(Plane(origin=(20, -64, -30), x_dir=(1, 0, 0), z_dir=(0, 0, 1))):
        with Locations((-91.628693582, 9.328529247)):
            Circle(LPATTERN7_COPY_2_SKETCH_R)
    extrude(amount=LPATTERN7_COPY_2_DEPTH, both=True, mode=Mode.SUBTRACT)

    # LPattern7 copy 3 sketch → LPattern7 copy 3 (cut, symmetric)
    with BuildSketch(Plane(origin=(40, -32, -30), x_dir=(1, 0, 0), z_dir=(0, 0, 1))):
        with Locations((-91.628693582, 9.328529247)):
            Circle(LPATTERN7_COPY_3_SKETCH_R)
    extrude(amount=LPATTERN7_COPY_3_DEPTH, both=True, mode=Mode.SUBTRACT)

    # LPattern7 copy 4 sketch → LPattern7 copy 4 (cut, symmetric)
    with BuildSketch(Plane(origin=(40, -64, -30), x_dir=(1, 0, 0), z_dir=(0, 0, 1))):
        with Locations((-91.628693582, 9.328529247)):
            Circle(LPATTERN7_COPY_4_SKETCH_R)
    extrude(amount=LPATTERN7_COPY_4_DEPTH, both=True, mode=Mode.SUBTRACT)


solid = part.part
